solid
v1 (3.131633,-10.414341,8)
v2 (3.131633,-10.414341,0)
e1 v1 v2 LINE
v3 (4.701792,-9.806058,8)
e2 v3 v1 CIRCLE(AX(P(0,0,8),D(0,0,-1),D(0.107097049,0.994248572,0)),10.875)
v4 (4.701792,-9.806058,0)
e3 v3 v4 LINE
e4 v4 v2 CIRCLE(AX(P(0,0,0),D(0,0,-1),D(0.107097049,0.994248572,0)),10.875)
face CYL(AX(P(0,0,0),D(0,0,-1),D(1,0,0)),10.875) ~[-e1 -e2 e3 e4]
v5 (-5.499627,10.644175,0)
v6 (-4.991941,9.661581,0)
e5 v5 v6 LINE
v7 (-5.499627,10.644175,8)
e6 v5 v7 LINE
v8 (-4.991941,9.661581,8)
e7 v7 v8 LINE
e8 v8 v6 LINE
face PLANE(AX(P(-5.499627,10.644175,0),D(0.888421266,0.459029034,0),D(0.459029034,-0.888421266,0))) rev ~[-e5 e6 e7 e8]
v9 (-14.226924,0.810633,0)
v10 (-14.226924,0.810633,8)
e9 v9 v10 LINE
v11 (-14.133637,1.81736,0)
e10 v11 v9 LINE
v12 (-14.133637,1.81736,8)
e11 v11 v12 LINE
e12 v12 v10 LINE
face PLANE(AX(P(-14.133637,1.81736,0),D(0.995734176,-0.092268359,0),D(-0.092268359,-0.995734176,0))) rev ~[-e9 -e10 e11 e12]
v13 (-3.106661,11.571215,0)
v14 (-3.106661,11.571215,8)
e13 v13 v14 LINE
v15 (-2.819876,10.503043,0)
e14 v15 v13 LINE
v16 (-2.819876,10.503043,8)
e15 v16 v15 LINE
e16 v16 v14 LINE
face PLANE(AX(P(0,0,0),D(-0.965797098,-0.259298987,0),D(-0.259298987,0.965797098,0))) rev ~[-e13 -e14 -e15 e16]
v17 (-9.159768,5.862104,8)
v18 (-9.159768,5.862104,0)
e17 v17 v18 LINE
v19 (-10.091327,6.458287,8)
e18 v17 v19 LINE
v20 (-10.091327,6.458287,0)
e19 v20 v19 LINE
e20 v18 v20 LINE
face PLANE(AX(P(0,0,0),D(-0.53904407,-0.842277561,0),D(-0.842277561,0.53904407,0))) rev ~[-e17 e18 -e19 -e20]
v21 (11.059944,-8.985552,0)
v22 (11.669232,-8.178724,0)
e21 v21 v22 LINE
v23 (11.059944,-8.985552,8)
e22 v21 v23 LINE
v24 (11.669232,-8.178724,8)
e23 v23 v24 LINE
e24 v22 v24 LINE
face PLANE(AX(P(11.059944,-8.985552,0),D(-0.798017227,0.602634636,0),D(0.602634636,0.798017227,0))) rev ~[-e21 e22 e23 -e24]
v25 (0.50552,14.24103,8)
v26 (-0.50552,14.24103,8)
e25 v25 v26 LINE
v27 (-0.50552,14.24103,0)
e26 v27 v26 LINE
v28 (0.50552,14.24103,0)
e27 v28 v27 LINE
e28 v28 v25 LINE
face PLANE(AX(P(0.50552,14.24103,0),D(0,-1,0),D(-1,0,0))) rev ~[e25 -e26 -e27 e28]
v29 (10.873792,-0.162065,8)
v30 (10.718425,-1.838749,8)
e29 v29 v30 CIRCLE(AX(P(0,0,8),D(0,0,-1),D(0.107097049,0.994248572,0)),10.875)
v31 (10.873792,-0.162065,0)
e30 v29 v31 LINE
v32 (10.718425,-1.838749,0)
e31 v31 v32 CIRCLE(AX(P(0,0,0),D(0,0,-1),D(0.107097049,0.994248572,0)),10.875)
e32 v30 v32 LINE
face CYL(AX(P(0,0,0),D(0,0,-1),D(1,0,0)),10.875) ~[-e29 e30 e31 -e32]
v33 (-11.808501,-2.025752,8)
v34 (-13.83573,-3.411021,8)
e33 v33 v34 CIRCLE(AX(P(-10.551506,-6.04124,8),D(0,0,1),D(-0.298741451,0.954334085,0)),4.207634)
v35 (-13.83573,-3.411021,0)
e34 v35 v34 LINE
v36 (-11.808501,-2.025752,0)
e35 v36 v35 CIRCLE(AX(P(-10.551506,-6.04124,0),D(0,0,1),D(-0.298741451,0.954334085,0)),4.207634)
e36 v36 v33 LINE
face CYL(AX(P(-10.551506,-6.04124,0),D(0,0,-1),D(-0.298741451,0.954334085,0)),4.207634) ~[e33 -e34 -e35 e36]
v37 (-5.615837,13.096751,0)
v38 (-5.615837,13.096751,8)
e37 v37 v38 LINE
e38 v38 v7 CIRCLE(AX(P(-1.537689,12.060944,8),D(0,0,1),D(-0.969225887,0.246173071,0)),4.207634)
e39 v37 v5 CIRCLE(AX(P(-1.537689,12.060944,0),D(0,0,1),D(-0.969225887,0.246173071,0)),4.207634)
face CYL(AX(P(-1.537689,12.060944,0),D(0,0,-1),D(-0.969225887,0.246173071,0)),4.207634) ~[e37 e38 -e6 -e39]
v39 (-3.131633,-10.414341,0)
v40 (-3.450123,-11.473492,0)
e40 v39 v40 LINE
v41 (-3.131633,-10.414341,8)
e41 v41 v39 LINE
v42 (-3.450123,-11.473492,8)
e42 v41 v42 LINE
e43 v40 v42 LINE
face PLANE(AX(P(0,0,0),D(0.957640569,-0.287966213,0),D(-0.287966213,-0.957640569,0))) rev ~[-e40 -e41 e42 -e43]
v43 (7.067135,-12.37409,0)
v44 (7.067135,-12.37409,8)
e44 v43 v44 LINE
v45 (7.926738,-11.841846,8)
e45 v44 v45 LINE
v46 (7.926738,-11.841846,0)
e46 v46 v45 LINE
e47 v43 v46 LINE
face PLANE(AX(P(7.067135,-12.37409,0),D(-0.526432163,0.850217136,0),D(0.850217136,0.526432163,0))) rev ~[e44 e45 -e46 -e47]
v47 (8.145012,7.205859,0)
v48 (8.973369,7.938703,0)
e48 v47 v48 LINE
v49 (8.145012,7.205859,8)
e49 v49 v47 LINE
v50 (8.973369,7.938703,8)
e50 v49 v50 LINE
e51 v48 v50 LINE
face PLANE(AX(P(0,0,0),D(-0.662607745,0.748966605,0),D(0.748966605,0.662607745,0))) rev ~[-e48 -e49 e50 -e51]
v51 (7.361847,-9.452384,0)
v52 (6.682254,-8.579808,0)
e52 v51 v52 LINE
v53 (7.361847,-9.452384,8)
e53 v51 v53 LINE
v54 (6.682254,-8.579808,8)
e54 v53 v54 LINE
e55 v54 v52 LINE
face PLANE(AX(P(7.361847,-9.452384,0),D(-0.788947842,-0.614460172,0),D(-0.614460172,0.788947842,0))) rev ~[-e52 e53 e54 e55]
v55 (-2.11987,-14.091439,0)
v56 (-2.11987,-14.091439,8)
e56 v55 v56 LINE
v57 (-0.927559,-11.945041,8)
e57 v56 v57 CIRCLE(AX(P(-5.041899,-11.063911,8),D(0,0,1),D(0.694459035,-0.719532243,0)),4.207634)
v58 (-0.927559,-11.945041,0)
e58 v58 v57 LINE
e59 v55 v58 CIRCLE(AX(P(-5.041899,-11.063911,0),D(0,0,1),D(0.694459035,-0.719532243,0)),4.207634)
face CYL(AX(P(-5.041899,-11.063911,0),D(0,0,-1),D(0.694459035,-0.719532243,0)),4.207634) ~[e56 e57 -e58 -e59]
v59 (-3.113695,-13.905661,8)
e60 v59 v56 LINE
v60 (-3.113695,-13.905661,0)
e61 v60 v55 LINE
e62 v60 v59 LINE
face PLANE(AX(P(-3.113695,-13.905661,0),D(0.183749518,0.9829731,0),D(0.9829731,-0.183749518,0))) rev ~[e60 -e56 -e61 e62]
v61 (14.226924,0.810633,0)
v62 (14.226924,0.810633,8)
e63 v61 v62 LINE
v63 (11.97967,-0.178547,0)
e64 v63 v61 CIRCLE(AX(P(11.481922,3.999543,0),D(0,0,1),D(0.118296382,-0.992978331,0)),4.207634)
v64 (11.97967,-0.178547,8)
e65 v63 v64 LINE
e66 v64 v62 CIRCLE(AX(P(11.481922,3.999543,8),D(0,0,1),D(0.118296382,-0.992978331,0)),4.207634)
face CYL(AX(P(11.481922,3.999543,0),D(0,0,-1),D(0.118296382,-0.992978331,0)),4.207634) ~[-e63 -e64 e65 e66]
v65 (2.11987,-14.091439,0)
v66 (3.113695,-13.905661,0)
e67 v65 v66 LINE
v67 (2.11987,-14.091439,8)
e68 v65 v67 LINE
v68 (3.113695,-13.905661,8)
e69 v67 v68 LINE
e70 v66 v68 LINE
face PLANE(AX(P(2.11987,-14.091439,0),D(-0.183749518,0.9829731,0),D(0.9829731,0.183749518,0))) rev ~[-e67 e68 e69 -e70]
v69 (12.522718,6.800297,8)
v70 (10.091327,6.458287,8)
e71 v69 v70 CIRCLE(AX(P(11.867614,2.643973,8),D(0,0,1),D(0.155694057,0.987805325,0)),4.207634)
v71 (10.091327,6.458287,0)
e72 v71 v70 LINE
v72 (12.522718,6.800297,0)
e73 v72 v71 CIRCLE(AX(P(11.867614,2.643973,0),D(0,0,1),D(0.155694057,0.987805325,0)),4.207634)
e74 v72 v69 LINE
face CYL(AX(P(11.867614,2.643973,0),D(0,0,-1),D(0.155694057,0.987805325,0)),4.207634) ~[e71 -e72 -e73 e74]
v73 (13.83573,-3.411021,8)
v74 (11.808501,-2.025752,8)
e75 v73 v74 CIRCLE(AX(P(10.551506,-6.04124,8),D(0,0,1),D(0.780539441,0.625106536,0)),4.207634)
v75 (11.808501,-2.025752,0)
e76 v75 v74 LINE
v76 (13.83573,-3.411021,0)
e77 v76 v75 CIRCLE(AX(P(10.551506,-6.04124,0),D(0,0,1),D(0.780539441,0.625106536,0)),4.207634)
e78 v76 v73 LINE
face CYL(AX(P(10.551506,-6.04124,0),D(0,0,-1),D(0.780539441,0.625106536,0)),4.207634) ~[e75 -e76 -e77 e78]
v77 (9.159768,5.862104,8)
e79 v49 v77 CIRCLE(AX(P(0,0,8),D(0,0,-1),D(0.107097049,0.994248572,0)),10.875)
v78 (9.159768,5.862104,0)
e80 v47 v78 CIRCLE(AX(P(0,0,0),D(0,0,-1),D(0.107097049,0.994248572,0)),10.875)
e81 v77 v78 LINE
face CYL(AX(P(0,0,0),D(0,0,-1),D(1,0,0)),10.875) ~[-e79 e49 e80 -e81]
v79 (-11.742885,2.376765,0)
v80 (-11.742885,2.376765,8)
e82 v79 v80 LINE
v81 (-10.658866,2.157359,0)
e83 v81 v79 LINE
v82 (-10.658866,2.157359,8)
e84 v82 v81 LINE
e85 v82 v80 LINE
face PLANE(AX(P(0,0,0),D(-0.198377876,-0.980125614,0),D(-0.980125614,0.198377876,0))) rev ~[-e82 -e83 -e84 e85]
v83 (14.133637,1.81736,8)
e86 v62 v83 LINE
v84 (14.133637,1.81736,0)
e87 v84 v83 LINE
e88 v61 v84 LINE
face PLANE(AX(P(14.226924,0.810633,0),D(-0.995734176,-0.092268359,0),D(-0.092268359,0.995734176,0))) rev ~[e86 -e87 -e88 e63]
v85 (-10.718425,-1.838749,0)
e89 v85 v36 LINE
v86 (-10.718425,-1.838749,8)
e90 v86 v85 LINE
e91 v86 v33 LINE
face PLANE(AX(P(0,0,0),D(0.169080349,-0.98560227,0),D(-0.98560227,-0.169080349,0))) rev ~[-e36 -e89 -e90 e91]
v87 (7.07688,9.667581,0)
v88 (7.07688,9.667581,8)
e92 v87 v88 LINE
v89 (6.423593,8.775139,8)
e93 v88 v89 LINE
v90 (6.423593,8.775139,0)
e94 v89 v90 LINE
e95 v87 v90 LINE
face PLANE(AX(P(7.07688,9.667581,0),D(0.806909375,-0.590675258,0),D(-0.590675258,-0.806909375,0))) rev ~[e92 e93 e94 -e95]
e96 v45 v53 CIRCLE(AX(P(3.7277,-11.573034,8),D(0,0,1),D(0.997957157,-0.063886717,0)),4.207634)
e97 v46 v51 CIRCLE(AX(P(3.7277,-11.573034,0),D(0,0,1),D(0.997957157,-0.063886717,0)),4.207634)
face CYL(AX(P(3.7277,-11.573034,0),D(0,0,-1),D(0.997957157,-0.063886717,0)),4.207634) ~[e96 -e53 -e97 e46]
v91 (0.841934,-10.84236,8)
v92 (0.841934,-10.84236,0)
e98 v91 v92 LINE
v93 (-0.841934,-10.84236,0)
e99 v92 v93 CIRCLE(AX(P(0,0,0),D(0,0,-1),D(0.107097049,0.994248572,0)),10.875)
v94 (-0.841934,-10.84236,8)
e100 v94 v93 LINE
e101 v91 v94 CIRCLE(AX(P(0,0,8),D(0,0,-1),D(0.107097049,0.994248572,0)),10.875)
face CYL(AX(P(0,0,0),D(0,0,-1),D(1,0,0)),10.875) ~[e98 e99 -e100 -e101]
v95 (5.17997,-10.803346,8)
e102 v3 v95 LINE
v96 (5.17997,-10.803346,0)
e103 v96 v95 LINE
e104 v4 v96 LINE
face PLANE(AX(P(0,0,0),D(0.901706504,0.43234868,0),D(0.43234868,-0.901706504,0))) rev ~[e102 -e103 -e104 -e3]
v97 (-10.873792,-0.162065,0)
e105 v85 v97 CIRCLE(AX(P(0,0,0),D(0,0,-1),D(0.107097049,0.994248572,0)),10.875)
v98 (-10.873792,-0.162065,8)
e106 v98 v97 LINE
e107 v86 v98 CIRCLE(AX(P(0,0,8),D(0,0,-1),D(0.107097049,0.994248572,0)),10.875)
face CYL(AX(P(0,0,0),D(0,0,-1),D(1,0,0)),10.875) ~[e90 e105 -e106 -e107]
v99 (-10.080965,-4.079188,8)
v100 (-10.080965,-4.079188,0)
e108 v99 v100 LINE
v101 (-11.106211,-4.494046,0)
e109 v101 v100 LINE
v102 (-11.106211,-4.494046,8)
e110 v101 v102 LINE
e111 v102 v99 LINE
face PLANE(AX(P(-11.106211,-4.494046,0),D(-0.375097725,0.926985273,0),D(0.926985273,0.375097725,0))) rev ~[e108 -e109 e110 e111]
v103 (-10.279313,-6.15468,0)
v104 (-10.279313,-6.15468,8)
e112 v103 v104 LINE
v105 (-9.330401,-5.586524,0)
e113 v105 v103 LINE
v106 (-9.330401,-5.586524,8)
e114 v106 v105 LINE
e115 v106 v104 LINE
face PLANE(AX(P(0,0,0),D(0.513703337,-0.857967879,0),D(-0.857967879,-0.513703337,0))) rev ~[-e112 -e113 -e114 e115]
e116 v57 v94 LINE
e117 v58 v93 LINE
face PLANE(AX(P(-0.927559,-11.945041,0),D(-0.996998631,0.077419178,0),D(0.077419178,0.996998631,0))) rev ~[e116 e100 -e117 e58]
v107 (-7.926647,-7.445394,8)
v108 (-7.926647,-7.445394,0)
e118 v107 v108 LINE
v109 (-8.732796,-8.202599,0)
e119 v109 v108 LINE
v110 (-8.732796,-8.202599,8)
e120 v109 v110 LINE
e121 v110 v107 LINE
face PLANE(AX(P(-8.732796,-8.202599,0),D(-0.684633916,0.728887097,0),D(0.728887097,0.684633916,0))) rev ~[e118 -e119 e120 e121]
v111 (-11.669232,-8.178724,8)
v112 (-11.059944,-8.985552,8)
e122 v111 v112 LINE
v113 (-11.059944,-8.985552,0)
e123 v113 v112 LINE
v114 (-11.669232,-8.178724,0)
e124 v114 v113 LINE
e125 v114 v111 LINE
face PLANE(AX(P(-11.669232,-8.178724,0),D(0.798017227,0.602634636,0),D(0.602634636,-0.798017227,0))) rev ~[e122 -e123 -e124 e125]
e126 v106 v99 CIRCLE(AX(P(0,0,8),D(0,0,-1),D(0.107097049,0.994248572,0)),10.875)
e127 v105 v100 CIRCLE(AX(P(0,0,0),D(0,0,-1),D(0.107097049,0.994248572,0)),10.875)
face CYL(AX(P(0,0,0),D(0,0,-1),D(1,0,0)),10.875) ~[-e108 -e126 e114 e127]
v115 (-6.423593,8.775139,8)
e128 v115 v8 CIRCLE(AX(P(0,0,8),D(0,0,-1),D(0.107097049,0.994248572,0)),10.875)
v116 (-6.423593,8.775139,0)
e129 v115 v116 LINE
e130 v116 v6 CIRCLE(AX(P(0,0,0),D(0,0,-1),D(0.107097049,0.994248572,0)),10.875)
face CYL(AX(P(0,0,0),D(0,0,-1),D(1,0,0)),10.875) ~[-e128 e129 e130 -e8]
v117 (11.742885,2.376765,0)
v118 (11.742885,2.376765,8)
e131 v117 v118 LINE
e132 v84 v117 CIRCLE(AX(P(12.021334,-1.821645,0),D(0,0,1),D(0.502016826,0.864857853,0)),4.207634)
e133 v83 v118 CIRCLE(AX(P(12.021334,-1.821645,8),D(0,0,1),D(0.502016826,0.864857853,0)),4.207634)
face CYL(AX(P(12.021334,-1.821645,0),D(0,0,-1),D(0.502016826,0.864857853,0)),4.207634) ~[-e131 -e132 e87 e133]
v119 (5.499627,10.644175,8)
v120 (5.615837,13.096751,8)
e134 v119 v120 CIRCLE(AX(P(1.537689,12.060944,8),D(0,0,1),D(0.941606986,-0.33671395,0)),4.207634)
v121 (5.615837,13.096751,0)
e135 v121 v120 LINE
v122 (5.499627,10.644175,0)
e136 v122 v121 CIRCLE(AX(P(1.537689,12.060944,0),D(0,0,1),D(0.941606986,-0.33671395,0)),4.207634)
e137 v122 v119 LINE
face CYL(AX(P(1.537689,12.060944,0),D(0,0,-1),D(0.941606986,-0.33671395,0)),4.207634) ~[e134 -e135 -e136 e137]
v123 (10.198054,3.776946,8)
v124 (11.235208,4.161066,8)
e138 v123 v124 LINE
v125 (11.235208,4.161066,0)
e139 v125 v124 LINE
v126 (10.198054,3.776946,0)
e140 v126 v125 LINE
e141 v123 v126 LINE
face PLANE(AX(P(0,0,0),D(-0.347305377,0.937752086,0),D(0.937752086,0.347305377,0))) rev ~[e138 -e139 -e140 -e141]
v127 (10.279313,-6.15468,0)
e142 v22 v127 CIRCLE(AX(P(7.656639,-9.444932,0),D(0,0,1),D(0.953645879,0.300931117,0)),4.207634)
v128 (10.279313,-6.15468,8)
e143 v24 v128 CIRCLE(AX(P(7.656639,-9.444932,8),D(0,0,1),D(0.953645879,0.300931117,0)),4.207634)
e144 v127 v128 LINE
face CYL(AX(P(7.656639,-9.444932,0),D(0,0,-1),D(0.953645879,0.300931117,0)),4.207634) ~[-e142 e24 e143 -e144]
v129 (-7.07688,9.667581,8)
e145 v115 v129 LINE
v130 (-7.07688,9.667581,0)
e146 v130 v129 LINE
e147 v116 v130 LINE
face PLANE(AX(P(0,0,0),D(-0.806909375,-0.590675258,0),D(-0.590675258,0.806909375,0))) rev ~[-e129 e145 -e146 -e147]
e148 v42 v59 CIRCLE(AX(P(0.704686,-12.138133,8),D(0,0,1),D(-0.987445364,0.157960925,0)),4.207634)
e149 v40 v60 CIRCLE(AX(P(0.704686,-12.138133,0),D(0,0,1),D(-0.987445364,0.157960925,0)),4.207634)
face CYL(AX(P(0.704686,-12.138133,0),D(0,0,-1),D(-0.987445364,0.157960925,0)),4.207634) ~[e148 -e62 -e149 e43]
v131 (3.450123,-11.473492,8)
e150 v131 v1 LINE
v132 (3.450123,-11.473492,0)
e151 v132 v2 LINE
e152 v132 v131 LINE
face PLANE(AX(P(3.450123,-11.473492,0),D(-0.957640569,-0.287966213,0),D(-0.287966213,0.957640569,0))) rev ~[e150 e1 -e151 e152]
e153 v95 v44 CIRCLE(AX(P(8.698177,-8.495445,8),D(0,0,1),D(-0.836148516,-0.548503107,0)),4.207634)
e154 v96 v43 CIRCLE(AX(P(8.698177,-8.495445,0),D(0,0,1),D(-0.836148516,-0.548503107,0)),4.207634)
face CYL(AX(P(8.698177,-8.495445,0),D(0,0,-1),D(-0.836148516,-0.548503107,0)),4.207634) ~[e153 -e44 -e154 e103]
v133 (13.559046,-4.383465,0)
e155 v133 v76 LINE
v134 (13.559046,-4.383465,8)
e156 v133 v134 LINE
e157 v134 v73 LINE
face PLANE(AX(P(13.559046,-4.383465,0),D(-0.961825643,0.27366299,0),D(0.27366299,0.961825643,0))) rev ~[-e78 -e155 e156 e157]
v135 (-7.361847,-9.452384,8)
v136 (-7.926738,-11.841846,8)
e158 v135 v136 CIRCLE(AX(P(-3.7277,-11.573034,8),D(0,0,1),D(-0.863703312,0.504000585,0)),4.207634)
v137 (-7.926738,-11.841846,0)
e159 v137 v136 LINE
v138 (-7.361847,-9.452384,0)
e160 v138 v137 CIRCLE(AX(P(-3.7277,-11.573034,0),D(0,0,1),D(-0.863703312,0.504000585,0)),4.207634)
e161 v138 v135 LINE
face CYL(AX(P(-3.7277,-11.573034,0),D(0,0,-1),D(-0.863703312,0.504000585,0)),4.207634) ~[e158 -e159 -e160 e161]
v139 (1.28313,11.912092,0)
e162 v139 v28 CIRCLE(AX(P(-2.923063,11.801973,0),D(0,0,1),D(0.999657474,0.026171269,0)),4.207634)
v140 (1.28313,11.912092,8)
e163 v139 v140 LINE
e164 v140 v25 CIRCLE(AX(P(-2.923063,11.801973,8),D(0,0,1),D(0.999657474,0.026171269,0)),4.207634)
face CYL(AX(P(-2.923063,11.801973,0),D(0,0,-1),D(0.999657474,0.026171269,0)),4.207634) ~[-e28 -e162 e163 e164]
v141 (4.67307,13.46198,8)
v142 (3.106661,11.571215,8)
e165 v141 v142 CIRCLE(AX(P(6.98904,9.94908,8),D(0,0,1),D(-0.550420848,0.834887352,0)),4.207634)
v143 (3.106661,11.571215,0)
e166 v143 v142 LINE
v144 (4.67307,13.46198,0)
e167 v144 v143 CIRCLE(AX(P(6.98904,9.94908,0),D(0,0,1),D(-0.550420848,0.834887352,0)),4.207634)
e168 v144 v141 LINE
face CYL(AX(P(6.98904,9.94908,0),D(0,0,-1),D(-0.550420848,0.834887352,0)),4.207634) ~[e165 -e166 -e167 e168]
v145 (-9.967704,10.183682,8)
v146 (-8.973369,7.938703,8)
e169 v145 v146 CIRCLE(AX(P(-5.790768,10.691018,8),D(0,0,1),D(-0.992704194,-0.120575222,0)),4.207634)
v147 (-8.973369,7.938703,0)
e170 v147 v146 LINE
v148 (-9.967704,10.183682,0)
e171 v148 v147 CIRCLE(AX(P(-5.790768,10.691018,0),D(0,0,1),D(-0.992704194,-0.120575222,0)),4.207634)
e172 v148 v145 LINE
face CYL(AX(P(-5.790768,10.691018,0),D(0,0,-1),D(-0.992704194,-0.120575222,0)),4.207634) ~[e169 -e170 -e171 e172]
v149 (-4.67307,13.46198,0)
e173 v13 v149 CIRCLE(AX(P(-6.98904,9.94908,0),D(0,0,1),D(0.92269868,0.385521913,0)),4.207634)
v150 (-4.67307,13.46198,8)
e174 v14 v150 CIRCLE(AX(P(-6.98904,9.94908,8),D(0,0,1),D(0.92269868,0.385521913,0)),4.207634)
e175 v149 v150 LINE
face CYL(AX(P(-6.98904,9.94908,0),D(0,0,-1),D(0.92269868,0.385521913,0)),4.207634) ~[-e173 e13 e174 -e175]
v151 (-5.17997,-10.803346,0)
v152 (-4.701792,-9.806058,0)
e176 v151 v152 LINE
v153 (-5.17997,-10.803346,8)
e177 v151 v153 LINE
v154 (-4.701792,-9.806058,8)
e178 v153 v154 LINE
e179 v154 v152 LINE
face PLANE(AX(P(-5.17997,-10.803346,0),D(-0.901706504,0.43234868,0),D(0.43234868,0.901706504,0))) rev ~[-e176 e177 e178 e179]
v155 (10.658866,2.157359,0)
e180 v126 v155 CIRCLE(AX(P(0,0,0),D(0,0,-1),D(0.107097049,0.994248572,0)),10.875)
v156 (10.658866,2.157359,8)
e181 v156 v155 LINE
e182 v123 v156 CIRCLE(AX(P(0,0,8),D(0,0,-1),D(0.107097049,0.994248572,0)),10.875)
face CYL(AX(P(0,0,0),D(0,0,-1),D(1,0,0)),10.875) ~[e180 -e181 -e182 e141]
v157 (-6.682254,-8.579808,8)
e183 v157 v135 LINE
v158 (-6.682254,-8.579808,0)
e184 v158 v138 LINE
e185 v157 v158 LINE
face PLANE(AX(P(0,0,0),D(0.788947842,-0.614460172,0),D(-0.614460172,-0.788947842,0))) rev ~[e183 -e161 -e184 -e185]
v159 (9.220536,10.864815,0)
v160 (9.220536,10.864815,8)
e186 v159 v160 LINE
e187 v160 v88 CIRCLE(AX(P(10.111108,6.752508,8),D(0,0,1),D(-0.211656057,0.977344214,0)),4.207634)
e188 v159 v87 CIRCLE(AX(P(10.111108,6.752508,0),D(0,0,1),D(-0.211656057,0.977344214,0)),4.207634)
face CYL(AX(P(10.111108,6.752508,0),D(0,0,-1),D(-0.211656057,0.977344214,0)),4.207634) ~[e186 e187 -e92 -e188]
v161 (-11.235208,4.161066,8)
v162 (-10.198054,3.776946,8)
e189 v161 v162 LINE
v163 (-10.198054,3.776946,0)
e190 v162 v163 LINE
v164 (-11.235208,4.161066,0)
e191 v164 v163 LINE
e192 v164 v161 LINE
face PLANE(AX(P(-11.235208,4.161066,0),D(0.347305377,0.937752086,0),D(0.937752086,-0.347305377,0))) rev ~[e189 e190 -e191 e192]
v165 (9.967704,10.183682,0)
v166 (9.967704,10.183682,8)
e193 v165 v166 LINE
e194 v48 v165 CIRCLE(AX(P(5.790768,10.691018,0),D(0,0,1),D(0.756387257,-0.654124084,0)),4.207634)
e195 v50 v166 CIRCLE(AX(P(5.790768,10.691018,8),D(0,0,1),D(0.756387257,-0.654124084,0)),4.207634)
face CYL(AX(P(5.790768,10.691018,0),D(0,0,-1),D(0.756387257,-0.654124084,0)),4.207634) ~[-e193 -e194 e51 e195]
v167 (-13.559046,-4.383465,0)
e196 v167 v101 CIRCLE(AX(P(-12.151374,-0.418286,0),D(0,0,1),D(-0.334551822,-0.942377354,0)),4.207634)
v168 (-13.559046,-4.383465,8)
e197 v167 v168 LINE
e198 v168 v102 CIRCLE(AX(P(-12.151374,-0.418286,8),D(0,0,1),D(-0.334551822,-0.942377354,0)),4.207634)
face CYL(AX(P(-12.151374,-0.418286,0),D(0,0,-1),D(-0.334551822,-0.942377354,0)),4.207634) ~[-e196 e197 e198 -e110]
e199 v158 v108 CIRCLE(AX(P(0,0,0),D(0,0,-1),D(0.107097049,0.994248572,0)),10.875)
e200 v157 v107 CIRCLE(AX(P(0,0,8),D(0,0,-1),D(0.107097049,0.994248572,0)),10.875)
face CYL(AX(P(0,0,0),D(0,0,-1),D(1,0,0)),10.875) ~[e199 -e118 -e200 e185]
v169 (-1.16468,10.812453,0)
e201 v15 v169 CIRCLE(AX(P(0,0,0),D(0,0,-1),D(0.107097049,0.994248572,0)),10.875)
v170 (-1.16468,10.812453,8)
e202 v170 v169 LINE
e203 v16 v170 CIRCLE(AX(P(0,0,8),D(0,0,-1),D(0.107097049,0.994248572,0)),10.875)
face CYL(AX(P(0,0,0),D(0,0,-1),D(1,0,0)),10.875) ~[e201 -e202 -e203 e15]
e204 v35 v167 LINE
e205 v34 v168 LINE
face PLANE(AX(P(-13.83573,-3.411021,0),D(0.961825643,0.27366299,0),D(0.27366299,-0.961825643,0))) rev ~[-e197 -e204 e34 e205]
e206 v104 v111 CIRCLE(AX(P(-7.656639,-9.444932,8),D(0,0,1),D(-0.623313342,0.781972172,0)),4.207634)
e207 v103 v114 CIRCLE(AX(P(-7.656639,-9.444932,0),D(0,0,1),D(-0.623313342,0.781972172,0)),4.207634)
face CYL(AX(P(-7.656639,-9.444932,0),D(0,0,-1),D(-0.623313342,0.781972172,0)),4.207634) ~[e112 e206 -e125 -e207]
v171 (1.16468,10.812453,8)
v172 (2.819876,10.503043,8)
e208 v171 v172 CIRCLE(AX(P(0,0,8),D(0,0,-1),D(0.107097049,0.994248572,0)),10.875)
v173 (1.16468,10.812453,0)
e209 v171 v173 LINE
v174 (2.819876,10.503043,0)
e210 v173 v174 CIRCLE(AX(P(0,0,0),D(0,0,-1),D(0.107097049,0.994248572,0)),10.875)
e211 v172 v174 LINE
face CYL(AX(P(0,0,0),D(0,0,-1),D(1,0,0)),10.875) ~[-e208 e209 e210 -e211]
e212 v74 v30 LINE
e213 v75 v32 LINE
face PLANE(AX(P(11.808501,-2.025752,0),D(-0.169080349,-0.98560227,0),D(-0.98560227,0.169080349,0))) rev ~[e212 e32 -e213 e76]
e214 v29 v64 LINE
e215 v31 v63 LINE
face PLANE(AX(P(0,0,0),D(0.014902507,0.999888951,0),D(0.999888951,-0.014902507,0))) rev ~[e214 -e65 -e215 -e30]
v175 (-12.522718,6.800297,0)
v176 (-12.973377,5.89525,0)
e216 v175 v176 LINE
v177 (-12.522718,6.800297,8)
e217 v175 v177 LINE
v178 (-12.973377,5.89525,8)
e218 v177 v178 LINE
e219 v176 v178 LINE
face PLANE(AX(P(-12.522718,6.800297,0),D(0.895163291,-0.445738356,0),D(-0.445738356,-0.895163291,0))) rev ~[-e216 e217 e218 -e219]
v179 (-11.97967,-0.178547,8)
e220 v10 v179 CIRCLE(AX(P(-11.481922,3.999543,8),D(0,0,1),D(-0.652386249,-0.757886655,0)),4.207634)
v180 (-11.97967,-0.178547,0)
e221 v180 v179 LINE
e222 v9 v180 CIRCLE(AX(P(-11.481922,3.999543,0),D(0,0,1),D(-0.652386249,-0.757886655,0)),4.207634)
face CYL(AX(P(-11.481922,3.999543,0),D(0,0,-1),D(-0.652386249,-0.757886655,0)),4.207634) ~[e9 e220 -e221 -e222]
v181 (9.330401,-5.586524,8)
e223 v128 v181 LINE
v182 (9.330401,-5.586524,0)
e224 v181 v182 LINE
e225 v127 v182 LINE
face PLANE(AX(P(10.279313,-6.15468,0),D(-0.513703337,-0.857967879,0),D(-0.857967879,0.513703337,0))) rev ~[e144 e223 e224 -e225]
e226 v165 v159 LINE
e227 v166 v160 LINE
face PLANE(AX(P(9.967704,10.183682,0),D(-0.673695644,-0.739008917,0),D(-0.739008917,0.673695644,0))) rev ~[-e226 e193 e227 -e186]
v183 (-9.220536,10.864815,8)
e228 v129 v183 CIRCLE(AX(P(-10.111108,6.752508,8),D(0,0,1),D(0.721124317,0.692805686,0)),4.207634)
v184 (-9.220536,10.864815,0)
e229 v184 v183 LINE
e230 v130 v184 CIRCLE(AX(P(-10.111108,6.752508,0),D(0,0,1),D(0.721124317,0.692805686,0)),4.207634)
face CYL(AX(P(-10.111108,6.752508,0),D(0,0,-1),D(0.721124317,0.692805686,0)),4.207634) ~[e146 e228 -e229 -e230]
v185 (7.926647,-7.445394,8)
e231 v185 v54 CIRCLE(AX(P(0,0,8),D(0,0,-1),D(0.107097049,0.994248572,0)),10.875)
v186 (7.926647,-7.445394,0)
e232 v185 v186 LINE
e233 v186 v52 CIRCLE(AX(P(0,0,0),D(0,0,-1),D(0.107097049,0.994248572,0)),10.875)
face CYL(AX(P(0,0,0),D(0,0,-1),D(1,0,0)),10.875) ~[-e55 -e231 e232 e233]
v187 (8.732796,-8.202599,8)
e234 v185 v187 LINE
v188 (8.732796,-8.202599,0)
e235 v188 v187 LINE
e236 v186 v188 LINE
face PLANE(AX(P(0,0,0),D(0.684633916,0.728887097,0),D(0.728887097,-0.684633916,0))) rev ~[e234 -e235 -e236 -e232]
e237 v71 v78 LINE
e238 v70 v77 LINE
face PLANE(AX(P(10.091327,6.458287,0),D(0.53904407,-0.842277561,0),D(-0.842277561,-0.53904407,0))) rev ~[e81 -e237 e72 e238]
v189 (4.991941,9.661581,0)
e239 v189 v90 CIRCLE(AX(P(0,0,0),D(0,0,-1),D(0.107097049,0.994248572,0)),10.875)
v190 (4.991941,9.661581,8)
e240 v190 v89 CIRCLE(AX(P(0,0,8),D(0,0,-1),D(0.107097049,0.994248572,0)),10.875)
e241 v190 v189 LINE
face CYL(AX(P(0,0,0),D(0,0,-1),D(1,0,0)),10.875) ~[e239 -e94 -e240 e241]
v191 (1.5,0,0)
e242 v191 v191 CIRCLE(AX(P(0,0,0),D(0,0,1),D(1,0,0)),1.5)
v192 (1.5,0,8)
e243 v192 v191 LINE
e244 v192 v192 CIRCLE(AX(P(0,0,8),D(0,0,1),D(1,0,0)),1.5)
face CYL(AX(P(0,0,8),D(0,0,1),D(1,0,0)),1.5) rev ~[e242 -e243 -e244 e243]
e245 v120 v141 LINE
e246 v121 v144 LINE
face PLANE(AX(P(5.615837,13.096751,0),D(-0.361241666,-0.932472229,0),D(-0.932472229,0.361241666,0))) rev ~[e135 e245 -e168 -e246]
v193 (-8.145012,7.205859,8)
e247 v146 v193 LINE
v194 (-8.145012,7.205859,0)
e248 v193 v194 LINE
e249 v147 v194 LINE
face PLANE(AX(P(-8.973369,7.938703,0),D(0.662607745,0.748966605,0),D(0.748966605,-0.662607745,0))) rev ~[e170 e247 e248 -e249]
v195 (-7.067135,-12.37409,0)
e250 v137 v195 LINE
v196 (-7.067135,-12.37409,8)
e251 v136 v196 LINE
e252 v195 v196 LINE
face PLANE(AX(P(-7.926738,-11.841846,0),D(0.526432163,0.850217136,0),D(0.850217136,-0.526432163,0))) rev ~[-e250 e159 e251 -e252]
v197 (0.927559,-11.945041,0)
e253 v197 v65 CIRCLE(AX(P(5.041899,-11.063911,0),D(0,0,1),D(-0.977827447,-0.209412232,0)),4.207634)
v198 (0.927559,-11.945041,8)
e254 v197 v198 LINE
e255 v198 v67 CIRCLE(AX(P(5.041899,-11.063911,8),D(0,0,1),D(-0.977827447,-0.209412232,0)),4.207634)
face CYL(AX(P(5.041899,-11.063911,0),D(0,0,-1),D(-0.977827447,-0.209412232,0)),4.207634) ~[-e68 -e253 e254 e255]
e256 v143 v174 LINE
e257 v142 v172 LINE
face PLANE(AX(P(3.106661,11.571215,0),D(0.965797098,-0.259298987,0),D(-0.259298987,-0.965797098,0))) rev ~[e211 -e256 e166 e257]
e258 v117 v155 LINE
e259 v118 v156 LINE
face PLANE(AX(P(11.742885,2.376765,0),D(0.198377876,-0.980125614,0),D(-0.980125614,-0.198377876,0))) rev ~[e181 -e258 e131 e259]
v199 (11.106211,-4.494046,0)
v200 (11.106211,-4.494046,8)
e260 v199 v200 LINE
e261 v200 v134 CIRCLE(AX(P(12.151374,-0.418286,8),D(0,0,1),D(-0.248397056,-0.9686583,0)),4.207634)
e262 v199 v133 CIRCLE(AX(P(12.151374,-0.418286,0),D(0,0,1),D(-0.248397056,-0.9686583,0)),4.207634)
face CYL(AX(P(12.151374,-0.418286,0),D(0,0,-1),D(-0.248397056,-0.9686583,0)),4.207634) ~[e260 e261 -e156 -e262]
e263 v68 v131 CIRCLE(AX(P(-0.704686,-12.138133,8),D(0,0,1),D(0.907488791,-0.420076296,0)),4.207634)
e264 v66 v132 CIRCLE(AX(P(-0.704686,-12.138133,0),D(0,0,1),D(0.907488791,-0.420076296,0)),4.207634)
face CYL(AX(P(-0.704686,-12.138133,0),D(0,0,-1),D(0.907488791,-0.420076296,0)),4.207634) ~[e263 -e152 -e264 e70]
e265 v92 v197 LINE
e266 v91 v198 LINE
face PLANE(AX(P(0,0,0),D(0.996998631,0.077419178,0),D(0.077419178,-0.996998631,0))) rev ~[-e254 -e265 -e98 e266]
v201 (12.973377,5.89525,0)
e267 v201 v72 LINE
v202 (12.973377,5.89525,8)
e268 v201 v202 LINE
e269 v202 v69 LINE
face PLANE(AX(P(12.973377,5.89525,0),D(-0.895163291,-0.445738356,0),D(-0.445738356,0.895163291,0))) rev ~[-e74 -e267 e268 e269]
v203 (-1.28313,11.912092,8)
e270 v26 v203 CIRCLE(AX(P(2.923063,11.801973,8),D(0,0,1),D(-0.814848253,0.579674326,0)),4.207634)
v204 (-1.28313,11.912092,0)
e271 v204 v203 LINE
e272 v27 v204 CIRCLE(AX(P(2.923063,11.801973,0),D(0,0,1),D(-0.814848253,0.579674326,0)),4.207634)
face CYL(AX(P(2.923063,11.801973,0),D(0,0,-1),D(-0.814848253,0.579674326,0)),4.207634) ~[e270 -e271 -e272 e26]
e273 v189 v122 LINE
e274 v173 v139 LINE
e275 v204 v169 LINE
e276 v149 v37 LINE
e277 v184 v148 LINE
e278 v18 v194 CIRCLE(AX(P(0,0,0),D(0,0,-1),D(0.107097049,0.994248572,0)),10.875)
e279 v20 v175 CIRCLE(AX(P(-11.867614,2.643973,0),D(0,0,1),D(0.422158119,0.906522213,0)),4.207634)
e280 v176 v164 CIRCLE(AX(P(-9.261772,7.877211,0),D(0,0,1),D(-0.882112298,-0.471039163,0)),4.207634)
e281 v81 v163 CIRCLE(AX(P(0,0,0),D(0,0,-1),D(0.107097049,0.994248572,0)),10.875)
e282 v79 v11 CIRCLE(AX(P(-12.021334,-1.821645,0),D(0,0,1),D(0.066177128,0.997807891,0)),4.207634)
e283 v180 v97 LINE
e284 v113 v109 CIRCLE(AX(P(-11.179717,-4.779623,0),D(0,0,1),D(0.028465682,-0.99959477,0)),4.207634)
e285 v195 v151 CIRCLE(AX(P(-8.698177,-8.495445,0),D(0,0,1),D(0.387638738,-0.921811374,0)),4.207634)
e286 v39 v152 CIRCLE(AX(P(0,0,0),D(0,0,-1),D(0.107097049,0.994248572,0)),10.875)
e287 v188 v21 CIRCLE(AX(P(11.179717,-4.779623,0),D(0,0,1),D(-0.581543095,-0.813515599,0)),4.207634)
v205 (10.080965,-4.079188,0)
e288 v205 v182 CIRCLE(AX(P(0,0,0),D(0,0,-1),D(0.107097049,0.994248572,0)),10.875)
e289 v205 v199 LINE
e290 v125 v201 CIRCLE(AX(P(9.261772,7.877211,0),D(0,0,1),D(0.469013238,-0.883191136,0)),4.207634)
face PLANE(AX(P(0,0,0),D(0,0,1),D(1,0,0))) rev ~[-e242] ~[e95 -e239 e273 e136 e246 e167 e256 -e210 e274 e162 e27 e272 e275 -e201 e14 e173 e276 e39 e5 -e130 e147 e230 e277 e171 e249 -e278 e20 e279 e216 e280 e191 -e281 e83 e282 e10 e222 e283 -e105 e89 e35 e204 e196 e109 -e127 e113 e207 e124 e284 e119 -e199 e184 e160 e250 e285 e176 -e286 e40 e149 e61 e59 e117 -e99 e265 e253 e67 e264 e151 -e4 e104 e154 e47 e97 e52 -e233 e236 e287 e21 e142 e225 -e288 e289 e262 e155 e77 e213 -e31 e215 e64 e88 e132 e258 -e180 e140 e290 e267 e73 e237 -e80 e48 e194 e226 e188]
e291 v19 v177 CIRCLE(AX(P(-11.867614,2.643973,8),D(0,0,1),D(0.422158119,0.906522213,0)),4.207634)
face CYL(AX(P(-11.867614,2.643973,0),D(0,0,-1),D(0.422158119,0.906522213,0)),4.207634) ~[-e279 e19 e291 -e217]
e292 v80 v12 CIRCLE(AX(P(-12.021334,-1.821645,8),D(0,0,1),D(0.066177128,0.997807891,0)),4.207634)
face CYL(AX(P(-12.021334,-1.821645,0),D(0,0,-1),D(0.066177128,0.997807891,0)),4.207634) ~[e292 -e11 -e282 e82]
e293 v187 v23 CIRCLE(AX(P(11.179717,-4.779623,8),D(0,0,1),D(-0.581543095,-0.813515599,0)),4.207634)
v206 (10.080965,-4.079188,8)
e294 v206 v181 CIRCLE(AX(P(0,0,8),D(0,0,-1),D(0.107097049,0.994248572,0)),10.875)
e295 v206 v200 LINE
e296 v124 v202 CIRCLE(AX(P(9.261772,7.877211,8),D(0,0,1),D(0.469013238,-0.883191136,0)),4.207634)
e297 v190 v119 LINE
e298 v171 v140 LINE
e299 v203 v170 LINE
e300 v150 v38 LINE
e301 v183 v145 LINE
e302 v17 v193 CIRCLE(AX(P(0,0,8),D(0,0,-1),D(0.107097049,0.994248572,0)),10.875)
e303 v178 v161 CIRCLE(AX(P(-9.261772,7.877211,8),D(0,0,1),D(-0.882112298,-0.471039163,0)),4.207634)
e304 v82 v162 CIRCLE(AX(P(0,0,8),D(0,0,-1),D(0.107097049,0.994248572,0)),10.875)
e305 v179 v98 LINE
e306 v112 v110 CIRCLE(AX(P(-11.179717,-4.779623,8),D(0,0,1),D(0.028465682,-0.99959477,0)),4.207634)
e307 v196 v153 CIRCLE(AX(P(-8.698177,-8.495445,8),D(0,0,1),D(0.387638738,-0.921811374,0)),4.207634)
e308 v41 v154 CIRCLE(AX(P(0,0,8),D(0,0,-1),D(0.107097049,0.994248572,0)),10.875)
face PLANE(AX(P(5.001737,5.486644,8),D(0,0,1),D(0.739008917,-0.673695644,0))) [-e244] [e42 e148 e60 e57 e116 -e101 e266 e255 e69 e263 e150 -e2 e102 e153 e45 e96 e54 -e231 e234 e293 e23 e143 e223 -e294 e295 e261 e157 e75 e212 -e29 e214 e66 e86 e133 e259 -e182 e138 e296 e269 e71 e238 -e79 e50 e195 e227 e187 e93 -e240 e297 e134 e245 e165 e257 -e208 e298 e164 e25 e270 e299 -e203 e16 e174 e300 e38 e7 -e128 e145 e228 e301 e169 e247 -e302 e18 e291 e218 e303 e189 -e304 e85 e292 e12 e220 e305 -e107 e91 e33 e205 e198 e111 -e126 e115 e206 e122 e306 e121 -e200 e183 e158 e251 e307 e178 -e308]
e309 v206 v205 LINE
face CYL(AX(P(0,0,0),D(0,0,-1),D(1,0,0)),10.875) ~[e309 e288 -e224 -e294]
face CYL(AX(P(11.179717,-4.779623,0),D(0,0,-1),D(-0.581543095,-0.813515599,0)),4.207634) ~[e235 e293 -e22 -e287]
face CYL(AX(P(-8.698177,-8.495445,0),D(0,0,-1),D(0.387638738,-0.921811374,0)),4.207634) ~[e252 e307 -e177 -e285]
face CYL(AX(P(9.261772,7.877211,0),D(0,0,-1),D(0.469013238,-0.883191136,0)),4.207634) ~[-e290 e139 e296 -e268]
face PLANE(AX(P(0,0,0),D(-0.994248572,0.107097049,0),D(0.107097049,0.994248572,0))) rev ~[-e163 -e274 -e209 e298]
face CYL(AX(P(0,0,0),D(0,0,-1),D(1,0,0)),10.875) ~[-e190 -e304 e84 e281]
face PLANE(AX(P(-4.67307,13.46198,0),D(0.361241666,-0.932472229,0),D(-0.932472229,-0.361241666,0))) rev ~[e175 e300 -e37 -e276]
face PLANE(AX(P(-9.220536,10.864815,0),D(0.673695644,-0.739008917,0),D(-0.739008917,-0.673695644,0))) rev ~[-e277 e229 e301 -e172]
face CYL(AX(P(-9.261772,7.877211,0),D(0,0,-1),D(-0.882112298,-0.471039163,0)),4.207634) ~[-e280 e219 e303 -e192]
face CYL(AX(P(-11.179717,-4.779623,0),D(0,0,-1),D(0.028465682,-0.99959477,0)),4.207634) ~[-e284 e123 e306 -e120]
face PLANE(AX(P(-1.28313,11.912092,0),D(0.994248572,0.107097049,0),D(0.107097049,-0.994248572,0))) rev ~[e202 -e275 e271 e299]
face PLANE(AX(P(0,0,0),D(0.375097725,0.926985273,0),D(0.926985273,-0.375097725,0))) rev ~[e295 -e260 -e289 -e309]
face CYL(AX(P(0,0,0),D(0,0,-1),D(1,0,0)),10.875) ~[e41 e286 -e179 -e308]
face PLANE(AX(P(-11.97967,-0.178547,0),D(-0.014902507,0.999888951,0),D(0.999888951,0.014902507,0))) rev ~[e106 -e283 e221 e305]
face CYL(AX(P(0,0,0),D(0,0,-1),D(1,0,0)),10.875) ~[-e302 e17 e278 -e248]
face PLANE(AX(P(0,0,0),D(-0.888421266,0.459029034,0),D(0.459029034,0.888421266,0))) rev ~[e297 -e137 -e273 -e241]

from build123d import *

# Parameters (mm, degrees)
SKETCH2_R           = 10.875
BOSS_EXTRUDE1_DEPTH = 8
BOSS_EXTRUDE2_DEPTH = 8
CIRPATTERN1_COUNT   = 17
SKETCH4_R           = 1.5
CUT_EXTRUDE1_DEPTH  = 8


with BuildPart() as part:
    # Sketch2 → Boss-Extrude1 (new body)
    with BuildSketch(Plane.XY):
        Circle(SKETCH2_R)
    extrude(amount=BOSS_EXTRUDE1_DEPTH)

    # Sketch3 → Boss-Extrude2 (add)
    with BuildSketch(Plane.XY):
        with BuildLine():
            Line((0, 0), (1.283129739, 11.912092137))
            ThreePointArc((1.283129739, 11.912092137), (1.067981869, 13.134543649), (0.505520156, 14.241030488))
            Line((0.505520156, 14.241030488), (-0.505520156, 14.241030488))
            ThreePointArc((-0.505520156, 14.241030488), (-1.067981869, 13.134543649), (-1.283129739, 11.912092137))
            Line((-1.283129739, 11.912092137), (0, 0))
        make_face()
    boss_extrude2 = extrude(amount=BOSS_EXTRUDE2_DEPTH)

    # CirPattern1: Boss-Extrude2 ×17 about axis
    cirpattern1_axis = Axis((0, 0, 0), (0, 0, 1))
    for i in range(1, CIRPATTERN1_COUNT):
        add(boss_extrude2.rotate(cirpattern1_axis, i * 360 / CIRPATTERN1_COUNT))

    # Sketch4 → Cut-Extrude1 (cut)
    with BuildSketch(Plane.XY.offset(8)):
        Circle(SKETCH4_R)
    extrude(amount=-CUT_EXTRUDE1_DEPTH, mode=Mode.SUBTRACT)


solid = part.part
